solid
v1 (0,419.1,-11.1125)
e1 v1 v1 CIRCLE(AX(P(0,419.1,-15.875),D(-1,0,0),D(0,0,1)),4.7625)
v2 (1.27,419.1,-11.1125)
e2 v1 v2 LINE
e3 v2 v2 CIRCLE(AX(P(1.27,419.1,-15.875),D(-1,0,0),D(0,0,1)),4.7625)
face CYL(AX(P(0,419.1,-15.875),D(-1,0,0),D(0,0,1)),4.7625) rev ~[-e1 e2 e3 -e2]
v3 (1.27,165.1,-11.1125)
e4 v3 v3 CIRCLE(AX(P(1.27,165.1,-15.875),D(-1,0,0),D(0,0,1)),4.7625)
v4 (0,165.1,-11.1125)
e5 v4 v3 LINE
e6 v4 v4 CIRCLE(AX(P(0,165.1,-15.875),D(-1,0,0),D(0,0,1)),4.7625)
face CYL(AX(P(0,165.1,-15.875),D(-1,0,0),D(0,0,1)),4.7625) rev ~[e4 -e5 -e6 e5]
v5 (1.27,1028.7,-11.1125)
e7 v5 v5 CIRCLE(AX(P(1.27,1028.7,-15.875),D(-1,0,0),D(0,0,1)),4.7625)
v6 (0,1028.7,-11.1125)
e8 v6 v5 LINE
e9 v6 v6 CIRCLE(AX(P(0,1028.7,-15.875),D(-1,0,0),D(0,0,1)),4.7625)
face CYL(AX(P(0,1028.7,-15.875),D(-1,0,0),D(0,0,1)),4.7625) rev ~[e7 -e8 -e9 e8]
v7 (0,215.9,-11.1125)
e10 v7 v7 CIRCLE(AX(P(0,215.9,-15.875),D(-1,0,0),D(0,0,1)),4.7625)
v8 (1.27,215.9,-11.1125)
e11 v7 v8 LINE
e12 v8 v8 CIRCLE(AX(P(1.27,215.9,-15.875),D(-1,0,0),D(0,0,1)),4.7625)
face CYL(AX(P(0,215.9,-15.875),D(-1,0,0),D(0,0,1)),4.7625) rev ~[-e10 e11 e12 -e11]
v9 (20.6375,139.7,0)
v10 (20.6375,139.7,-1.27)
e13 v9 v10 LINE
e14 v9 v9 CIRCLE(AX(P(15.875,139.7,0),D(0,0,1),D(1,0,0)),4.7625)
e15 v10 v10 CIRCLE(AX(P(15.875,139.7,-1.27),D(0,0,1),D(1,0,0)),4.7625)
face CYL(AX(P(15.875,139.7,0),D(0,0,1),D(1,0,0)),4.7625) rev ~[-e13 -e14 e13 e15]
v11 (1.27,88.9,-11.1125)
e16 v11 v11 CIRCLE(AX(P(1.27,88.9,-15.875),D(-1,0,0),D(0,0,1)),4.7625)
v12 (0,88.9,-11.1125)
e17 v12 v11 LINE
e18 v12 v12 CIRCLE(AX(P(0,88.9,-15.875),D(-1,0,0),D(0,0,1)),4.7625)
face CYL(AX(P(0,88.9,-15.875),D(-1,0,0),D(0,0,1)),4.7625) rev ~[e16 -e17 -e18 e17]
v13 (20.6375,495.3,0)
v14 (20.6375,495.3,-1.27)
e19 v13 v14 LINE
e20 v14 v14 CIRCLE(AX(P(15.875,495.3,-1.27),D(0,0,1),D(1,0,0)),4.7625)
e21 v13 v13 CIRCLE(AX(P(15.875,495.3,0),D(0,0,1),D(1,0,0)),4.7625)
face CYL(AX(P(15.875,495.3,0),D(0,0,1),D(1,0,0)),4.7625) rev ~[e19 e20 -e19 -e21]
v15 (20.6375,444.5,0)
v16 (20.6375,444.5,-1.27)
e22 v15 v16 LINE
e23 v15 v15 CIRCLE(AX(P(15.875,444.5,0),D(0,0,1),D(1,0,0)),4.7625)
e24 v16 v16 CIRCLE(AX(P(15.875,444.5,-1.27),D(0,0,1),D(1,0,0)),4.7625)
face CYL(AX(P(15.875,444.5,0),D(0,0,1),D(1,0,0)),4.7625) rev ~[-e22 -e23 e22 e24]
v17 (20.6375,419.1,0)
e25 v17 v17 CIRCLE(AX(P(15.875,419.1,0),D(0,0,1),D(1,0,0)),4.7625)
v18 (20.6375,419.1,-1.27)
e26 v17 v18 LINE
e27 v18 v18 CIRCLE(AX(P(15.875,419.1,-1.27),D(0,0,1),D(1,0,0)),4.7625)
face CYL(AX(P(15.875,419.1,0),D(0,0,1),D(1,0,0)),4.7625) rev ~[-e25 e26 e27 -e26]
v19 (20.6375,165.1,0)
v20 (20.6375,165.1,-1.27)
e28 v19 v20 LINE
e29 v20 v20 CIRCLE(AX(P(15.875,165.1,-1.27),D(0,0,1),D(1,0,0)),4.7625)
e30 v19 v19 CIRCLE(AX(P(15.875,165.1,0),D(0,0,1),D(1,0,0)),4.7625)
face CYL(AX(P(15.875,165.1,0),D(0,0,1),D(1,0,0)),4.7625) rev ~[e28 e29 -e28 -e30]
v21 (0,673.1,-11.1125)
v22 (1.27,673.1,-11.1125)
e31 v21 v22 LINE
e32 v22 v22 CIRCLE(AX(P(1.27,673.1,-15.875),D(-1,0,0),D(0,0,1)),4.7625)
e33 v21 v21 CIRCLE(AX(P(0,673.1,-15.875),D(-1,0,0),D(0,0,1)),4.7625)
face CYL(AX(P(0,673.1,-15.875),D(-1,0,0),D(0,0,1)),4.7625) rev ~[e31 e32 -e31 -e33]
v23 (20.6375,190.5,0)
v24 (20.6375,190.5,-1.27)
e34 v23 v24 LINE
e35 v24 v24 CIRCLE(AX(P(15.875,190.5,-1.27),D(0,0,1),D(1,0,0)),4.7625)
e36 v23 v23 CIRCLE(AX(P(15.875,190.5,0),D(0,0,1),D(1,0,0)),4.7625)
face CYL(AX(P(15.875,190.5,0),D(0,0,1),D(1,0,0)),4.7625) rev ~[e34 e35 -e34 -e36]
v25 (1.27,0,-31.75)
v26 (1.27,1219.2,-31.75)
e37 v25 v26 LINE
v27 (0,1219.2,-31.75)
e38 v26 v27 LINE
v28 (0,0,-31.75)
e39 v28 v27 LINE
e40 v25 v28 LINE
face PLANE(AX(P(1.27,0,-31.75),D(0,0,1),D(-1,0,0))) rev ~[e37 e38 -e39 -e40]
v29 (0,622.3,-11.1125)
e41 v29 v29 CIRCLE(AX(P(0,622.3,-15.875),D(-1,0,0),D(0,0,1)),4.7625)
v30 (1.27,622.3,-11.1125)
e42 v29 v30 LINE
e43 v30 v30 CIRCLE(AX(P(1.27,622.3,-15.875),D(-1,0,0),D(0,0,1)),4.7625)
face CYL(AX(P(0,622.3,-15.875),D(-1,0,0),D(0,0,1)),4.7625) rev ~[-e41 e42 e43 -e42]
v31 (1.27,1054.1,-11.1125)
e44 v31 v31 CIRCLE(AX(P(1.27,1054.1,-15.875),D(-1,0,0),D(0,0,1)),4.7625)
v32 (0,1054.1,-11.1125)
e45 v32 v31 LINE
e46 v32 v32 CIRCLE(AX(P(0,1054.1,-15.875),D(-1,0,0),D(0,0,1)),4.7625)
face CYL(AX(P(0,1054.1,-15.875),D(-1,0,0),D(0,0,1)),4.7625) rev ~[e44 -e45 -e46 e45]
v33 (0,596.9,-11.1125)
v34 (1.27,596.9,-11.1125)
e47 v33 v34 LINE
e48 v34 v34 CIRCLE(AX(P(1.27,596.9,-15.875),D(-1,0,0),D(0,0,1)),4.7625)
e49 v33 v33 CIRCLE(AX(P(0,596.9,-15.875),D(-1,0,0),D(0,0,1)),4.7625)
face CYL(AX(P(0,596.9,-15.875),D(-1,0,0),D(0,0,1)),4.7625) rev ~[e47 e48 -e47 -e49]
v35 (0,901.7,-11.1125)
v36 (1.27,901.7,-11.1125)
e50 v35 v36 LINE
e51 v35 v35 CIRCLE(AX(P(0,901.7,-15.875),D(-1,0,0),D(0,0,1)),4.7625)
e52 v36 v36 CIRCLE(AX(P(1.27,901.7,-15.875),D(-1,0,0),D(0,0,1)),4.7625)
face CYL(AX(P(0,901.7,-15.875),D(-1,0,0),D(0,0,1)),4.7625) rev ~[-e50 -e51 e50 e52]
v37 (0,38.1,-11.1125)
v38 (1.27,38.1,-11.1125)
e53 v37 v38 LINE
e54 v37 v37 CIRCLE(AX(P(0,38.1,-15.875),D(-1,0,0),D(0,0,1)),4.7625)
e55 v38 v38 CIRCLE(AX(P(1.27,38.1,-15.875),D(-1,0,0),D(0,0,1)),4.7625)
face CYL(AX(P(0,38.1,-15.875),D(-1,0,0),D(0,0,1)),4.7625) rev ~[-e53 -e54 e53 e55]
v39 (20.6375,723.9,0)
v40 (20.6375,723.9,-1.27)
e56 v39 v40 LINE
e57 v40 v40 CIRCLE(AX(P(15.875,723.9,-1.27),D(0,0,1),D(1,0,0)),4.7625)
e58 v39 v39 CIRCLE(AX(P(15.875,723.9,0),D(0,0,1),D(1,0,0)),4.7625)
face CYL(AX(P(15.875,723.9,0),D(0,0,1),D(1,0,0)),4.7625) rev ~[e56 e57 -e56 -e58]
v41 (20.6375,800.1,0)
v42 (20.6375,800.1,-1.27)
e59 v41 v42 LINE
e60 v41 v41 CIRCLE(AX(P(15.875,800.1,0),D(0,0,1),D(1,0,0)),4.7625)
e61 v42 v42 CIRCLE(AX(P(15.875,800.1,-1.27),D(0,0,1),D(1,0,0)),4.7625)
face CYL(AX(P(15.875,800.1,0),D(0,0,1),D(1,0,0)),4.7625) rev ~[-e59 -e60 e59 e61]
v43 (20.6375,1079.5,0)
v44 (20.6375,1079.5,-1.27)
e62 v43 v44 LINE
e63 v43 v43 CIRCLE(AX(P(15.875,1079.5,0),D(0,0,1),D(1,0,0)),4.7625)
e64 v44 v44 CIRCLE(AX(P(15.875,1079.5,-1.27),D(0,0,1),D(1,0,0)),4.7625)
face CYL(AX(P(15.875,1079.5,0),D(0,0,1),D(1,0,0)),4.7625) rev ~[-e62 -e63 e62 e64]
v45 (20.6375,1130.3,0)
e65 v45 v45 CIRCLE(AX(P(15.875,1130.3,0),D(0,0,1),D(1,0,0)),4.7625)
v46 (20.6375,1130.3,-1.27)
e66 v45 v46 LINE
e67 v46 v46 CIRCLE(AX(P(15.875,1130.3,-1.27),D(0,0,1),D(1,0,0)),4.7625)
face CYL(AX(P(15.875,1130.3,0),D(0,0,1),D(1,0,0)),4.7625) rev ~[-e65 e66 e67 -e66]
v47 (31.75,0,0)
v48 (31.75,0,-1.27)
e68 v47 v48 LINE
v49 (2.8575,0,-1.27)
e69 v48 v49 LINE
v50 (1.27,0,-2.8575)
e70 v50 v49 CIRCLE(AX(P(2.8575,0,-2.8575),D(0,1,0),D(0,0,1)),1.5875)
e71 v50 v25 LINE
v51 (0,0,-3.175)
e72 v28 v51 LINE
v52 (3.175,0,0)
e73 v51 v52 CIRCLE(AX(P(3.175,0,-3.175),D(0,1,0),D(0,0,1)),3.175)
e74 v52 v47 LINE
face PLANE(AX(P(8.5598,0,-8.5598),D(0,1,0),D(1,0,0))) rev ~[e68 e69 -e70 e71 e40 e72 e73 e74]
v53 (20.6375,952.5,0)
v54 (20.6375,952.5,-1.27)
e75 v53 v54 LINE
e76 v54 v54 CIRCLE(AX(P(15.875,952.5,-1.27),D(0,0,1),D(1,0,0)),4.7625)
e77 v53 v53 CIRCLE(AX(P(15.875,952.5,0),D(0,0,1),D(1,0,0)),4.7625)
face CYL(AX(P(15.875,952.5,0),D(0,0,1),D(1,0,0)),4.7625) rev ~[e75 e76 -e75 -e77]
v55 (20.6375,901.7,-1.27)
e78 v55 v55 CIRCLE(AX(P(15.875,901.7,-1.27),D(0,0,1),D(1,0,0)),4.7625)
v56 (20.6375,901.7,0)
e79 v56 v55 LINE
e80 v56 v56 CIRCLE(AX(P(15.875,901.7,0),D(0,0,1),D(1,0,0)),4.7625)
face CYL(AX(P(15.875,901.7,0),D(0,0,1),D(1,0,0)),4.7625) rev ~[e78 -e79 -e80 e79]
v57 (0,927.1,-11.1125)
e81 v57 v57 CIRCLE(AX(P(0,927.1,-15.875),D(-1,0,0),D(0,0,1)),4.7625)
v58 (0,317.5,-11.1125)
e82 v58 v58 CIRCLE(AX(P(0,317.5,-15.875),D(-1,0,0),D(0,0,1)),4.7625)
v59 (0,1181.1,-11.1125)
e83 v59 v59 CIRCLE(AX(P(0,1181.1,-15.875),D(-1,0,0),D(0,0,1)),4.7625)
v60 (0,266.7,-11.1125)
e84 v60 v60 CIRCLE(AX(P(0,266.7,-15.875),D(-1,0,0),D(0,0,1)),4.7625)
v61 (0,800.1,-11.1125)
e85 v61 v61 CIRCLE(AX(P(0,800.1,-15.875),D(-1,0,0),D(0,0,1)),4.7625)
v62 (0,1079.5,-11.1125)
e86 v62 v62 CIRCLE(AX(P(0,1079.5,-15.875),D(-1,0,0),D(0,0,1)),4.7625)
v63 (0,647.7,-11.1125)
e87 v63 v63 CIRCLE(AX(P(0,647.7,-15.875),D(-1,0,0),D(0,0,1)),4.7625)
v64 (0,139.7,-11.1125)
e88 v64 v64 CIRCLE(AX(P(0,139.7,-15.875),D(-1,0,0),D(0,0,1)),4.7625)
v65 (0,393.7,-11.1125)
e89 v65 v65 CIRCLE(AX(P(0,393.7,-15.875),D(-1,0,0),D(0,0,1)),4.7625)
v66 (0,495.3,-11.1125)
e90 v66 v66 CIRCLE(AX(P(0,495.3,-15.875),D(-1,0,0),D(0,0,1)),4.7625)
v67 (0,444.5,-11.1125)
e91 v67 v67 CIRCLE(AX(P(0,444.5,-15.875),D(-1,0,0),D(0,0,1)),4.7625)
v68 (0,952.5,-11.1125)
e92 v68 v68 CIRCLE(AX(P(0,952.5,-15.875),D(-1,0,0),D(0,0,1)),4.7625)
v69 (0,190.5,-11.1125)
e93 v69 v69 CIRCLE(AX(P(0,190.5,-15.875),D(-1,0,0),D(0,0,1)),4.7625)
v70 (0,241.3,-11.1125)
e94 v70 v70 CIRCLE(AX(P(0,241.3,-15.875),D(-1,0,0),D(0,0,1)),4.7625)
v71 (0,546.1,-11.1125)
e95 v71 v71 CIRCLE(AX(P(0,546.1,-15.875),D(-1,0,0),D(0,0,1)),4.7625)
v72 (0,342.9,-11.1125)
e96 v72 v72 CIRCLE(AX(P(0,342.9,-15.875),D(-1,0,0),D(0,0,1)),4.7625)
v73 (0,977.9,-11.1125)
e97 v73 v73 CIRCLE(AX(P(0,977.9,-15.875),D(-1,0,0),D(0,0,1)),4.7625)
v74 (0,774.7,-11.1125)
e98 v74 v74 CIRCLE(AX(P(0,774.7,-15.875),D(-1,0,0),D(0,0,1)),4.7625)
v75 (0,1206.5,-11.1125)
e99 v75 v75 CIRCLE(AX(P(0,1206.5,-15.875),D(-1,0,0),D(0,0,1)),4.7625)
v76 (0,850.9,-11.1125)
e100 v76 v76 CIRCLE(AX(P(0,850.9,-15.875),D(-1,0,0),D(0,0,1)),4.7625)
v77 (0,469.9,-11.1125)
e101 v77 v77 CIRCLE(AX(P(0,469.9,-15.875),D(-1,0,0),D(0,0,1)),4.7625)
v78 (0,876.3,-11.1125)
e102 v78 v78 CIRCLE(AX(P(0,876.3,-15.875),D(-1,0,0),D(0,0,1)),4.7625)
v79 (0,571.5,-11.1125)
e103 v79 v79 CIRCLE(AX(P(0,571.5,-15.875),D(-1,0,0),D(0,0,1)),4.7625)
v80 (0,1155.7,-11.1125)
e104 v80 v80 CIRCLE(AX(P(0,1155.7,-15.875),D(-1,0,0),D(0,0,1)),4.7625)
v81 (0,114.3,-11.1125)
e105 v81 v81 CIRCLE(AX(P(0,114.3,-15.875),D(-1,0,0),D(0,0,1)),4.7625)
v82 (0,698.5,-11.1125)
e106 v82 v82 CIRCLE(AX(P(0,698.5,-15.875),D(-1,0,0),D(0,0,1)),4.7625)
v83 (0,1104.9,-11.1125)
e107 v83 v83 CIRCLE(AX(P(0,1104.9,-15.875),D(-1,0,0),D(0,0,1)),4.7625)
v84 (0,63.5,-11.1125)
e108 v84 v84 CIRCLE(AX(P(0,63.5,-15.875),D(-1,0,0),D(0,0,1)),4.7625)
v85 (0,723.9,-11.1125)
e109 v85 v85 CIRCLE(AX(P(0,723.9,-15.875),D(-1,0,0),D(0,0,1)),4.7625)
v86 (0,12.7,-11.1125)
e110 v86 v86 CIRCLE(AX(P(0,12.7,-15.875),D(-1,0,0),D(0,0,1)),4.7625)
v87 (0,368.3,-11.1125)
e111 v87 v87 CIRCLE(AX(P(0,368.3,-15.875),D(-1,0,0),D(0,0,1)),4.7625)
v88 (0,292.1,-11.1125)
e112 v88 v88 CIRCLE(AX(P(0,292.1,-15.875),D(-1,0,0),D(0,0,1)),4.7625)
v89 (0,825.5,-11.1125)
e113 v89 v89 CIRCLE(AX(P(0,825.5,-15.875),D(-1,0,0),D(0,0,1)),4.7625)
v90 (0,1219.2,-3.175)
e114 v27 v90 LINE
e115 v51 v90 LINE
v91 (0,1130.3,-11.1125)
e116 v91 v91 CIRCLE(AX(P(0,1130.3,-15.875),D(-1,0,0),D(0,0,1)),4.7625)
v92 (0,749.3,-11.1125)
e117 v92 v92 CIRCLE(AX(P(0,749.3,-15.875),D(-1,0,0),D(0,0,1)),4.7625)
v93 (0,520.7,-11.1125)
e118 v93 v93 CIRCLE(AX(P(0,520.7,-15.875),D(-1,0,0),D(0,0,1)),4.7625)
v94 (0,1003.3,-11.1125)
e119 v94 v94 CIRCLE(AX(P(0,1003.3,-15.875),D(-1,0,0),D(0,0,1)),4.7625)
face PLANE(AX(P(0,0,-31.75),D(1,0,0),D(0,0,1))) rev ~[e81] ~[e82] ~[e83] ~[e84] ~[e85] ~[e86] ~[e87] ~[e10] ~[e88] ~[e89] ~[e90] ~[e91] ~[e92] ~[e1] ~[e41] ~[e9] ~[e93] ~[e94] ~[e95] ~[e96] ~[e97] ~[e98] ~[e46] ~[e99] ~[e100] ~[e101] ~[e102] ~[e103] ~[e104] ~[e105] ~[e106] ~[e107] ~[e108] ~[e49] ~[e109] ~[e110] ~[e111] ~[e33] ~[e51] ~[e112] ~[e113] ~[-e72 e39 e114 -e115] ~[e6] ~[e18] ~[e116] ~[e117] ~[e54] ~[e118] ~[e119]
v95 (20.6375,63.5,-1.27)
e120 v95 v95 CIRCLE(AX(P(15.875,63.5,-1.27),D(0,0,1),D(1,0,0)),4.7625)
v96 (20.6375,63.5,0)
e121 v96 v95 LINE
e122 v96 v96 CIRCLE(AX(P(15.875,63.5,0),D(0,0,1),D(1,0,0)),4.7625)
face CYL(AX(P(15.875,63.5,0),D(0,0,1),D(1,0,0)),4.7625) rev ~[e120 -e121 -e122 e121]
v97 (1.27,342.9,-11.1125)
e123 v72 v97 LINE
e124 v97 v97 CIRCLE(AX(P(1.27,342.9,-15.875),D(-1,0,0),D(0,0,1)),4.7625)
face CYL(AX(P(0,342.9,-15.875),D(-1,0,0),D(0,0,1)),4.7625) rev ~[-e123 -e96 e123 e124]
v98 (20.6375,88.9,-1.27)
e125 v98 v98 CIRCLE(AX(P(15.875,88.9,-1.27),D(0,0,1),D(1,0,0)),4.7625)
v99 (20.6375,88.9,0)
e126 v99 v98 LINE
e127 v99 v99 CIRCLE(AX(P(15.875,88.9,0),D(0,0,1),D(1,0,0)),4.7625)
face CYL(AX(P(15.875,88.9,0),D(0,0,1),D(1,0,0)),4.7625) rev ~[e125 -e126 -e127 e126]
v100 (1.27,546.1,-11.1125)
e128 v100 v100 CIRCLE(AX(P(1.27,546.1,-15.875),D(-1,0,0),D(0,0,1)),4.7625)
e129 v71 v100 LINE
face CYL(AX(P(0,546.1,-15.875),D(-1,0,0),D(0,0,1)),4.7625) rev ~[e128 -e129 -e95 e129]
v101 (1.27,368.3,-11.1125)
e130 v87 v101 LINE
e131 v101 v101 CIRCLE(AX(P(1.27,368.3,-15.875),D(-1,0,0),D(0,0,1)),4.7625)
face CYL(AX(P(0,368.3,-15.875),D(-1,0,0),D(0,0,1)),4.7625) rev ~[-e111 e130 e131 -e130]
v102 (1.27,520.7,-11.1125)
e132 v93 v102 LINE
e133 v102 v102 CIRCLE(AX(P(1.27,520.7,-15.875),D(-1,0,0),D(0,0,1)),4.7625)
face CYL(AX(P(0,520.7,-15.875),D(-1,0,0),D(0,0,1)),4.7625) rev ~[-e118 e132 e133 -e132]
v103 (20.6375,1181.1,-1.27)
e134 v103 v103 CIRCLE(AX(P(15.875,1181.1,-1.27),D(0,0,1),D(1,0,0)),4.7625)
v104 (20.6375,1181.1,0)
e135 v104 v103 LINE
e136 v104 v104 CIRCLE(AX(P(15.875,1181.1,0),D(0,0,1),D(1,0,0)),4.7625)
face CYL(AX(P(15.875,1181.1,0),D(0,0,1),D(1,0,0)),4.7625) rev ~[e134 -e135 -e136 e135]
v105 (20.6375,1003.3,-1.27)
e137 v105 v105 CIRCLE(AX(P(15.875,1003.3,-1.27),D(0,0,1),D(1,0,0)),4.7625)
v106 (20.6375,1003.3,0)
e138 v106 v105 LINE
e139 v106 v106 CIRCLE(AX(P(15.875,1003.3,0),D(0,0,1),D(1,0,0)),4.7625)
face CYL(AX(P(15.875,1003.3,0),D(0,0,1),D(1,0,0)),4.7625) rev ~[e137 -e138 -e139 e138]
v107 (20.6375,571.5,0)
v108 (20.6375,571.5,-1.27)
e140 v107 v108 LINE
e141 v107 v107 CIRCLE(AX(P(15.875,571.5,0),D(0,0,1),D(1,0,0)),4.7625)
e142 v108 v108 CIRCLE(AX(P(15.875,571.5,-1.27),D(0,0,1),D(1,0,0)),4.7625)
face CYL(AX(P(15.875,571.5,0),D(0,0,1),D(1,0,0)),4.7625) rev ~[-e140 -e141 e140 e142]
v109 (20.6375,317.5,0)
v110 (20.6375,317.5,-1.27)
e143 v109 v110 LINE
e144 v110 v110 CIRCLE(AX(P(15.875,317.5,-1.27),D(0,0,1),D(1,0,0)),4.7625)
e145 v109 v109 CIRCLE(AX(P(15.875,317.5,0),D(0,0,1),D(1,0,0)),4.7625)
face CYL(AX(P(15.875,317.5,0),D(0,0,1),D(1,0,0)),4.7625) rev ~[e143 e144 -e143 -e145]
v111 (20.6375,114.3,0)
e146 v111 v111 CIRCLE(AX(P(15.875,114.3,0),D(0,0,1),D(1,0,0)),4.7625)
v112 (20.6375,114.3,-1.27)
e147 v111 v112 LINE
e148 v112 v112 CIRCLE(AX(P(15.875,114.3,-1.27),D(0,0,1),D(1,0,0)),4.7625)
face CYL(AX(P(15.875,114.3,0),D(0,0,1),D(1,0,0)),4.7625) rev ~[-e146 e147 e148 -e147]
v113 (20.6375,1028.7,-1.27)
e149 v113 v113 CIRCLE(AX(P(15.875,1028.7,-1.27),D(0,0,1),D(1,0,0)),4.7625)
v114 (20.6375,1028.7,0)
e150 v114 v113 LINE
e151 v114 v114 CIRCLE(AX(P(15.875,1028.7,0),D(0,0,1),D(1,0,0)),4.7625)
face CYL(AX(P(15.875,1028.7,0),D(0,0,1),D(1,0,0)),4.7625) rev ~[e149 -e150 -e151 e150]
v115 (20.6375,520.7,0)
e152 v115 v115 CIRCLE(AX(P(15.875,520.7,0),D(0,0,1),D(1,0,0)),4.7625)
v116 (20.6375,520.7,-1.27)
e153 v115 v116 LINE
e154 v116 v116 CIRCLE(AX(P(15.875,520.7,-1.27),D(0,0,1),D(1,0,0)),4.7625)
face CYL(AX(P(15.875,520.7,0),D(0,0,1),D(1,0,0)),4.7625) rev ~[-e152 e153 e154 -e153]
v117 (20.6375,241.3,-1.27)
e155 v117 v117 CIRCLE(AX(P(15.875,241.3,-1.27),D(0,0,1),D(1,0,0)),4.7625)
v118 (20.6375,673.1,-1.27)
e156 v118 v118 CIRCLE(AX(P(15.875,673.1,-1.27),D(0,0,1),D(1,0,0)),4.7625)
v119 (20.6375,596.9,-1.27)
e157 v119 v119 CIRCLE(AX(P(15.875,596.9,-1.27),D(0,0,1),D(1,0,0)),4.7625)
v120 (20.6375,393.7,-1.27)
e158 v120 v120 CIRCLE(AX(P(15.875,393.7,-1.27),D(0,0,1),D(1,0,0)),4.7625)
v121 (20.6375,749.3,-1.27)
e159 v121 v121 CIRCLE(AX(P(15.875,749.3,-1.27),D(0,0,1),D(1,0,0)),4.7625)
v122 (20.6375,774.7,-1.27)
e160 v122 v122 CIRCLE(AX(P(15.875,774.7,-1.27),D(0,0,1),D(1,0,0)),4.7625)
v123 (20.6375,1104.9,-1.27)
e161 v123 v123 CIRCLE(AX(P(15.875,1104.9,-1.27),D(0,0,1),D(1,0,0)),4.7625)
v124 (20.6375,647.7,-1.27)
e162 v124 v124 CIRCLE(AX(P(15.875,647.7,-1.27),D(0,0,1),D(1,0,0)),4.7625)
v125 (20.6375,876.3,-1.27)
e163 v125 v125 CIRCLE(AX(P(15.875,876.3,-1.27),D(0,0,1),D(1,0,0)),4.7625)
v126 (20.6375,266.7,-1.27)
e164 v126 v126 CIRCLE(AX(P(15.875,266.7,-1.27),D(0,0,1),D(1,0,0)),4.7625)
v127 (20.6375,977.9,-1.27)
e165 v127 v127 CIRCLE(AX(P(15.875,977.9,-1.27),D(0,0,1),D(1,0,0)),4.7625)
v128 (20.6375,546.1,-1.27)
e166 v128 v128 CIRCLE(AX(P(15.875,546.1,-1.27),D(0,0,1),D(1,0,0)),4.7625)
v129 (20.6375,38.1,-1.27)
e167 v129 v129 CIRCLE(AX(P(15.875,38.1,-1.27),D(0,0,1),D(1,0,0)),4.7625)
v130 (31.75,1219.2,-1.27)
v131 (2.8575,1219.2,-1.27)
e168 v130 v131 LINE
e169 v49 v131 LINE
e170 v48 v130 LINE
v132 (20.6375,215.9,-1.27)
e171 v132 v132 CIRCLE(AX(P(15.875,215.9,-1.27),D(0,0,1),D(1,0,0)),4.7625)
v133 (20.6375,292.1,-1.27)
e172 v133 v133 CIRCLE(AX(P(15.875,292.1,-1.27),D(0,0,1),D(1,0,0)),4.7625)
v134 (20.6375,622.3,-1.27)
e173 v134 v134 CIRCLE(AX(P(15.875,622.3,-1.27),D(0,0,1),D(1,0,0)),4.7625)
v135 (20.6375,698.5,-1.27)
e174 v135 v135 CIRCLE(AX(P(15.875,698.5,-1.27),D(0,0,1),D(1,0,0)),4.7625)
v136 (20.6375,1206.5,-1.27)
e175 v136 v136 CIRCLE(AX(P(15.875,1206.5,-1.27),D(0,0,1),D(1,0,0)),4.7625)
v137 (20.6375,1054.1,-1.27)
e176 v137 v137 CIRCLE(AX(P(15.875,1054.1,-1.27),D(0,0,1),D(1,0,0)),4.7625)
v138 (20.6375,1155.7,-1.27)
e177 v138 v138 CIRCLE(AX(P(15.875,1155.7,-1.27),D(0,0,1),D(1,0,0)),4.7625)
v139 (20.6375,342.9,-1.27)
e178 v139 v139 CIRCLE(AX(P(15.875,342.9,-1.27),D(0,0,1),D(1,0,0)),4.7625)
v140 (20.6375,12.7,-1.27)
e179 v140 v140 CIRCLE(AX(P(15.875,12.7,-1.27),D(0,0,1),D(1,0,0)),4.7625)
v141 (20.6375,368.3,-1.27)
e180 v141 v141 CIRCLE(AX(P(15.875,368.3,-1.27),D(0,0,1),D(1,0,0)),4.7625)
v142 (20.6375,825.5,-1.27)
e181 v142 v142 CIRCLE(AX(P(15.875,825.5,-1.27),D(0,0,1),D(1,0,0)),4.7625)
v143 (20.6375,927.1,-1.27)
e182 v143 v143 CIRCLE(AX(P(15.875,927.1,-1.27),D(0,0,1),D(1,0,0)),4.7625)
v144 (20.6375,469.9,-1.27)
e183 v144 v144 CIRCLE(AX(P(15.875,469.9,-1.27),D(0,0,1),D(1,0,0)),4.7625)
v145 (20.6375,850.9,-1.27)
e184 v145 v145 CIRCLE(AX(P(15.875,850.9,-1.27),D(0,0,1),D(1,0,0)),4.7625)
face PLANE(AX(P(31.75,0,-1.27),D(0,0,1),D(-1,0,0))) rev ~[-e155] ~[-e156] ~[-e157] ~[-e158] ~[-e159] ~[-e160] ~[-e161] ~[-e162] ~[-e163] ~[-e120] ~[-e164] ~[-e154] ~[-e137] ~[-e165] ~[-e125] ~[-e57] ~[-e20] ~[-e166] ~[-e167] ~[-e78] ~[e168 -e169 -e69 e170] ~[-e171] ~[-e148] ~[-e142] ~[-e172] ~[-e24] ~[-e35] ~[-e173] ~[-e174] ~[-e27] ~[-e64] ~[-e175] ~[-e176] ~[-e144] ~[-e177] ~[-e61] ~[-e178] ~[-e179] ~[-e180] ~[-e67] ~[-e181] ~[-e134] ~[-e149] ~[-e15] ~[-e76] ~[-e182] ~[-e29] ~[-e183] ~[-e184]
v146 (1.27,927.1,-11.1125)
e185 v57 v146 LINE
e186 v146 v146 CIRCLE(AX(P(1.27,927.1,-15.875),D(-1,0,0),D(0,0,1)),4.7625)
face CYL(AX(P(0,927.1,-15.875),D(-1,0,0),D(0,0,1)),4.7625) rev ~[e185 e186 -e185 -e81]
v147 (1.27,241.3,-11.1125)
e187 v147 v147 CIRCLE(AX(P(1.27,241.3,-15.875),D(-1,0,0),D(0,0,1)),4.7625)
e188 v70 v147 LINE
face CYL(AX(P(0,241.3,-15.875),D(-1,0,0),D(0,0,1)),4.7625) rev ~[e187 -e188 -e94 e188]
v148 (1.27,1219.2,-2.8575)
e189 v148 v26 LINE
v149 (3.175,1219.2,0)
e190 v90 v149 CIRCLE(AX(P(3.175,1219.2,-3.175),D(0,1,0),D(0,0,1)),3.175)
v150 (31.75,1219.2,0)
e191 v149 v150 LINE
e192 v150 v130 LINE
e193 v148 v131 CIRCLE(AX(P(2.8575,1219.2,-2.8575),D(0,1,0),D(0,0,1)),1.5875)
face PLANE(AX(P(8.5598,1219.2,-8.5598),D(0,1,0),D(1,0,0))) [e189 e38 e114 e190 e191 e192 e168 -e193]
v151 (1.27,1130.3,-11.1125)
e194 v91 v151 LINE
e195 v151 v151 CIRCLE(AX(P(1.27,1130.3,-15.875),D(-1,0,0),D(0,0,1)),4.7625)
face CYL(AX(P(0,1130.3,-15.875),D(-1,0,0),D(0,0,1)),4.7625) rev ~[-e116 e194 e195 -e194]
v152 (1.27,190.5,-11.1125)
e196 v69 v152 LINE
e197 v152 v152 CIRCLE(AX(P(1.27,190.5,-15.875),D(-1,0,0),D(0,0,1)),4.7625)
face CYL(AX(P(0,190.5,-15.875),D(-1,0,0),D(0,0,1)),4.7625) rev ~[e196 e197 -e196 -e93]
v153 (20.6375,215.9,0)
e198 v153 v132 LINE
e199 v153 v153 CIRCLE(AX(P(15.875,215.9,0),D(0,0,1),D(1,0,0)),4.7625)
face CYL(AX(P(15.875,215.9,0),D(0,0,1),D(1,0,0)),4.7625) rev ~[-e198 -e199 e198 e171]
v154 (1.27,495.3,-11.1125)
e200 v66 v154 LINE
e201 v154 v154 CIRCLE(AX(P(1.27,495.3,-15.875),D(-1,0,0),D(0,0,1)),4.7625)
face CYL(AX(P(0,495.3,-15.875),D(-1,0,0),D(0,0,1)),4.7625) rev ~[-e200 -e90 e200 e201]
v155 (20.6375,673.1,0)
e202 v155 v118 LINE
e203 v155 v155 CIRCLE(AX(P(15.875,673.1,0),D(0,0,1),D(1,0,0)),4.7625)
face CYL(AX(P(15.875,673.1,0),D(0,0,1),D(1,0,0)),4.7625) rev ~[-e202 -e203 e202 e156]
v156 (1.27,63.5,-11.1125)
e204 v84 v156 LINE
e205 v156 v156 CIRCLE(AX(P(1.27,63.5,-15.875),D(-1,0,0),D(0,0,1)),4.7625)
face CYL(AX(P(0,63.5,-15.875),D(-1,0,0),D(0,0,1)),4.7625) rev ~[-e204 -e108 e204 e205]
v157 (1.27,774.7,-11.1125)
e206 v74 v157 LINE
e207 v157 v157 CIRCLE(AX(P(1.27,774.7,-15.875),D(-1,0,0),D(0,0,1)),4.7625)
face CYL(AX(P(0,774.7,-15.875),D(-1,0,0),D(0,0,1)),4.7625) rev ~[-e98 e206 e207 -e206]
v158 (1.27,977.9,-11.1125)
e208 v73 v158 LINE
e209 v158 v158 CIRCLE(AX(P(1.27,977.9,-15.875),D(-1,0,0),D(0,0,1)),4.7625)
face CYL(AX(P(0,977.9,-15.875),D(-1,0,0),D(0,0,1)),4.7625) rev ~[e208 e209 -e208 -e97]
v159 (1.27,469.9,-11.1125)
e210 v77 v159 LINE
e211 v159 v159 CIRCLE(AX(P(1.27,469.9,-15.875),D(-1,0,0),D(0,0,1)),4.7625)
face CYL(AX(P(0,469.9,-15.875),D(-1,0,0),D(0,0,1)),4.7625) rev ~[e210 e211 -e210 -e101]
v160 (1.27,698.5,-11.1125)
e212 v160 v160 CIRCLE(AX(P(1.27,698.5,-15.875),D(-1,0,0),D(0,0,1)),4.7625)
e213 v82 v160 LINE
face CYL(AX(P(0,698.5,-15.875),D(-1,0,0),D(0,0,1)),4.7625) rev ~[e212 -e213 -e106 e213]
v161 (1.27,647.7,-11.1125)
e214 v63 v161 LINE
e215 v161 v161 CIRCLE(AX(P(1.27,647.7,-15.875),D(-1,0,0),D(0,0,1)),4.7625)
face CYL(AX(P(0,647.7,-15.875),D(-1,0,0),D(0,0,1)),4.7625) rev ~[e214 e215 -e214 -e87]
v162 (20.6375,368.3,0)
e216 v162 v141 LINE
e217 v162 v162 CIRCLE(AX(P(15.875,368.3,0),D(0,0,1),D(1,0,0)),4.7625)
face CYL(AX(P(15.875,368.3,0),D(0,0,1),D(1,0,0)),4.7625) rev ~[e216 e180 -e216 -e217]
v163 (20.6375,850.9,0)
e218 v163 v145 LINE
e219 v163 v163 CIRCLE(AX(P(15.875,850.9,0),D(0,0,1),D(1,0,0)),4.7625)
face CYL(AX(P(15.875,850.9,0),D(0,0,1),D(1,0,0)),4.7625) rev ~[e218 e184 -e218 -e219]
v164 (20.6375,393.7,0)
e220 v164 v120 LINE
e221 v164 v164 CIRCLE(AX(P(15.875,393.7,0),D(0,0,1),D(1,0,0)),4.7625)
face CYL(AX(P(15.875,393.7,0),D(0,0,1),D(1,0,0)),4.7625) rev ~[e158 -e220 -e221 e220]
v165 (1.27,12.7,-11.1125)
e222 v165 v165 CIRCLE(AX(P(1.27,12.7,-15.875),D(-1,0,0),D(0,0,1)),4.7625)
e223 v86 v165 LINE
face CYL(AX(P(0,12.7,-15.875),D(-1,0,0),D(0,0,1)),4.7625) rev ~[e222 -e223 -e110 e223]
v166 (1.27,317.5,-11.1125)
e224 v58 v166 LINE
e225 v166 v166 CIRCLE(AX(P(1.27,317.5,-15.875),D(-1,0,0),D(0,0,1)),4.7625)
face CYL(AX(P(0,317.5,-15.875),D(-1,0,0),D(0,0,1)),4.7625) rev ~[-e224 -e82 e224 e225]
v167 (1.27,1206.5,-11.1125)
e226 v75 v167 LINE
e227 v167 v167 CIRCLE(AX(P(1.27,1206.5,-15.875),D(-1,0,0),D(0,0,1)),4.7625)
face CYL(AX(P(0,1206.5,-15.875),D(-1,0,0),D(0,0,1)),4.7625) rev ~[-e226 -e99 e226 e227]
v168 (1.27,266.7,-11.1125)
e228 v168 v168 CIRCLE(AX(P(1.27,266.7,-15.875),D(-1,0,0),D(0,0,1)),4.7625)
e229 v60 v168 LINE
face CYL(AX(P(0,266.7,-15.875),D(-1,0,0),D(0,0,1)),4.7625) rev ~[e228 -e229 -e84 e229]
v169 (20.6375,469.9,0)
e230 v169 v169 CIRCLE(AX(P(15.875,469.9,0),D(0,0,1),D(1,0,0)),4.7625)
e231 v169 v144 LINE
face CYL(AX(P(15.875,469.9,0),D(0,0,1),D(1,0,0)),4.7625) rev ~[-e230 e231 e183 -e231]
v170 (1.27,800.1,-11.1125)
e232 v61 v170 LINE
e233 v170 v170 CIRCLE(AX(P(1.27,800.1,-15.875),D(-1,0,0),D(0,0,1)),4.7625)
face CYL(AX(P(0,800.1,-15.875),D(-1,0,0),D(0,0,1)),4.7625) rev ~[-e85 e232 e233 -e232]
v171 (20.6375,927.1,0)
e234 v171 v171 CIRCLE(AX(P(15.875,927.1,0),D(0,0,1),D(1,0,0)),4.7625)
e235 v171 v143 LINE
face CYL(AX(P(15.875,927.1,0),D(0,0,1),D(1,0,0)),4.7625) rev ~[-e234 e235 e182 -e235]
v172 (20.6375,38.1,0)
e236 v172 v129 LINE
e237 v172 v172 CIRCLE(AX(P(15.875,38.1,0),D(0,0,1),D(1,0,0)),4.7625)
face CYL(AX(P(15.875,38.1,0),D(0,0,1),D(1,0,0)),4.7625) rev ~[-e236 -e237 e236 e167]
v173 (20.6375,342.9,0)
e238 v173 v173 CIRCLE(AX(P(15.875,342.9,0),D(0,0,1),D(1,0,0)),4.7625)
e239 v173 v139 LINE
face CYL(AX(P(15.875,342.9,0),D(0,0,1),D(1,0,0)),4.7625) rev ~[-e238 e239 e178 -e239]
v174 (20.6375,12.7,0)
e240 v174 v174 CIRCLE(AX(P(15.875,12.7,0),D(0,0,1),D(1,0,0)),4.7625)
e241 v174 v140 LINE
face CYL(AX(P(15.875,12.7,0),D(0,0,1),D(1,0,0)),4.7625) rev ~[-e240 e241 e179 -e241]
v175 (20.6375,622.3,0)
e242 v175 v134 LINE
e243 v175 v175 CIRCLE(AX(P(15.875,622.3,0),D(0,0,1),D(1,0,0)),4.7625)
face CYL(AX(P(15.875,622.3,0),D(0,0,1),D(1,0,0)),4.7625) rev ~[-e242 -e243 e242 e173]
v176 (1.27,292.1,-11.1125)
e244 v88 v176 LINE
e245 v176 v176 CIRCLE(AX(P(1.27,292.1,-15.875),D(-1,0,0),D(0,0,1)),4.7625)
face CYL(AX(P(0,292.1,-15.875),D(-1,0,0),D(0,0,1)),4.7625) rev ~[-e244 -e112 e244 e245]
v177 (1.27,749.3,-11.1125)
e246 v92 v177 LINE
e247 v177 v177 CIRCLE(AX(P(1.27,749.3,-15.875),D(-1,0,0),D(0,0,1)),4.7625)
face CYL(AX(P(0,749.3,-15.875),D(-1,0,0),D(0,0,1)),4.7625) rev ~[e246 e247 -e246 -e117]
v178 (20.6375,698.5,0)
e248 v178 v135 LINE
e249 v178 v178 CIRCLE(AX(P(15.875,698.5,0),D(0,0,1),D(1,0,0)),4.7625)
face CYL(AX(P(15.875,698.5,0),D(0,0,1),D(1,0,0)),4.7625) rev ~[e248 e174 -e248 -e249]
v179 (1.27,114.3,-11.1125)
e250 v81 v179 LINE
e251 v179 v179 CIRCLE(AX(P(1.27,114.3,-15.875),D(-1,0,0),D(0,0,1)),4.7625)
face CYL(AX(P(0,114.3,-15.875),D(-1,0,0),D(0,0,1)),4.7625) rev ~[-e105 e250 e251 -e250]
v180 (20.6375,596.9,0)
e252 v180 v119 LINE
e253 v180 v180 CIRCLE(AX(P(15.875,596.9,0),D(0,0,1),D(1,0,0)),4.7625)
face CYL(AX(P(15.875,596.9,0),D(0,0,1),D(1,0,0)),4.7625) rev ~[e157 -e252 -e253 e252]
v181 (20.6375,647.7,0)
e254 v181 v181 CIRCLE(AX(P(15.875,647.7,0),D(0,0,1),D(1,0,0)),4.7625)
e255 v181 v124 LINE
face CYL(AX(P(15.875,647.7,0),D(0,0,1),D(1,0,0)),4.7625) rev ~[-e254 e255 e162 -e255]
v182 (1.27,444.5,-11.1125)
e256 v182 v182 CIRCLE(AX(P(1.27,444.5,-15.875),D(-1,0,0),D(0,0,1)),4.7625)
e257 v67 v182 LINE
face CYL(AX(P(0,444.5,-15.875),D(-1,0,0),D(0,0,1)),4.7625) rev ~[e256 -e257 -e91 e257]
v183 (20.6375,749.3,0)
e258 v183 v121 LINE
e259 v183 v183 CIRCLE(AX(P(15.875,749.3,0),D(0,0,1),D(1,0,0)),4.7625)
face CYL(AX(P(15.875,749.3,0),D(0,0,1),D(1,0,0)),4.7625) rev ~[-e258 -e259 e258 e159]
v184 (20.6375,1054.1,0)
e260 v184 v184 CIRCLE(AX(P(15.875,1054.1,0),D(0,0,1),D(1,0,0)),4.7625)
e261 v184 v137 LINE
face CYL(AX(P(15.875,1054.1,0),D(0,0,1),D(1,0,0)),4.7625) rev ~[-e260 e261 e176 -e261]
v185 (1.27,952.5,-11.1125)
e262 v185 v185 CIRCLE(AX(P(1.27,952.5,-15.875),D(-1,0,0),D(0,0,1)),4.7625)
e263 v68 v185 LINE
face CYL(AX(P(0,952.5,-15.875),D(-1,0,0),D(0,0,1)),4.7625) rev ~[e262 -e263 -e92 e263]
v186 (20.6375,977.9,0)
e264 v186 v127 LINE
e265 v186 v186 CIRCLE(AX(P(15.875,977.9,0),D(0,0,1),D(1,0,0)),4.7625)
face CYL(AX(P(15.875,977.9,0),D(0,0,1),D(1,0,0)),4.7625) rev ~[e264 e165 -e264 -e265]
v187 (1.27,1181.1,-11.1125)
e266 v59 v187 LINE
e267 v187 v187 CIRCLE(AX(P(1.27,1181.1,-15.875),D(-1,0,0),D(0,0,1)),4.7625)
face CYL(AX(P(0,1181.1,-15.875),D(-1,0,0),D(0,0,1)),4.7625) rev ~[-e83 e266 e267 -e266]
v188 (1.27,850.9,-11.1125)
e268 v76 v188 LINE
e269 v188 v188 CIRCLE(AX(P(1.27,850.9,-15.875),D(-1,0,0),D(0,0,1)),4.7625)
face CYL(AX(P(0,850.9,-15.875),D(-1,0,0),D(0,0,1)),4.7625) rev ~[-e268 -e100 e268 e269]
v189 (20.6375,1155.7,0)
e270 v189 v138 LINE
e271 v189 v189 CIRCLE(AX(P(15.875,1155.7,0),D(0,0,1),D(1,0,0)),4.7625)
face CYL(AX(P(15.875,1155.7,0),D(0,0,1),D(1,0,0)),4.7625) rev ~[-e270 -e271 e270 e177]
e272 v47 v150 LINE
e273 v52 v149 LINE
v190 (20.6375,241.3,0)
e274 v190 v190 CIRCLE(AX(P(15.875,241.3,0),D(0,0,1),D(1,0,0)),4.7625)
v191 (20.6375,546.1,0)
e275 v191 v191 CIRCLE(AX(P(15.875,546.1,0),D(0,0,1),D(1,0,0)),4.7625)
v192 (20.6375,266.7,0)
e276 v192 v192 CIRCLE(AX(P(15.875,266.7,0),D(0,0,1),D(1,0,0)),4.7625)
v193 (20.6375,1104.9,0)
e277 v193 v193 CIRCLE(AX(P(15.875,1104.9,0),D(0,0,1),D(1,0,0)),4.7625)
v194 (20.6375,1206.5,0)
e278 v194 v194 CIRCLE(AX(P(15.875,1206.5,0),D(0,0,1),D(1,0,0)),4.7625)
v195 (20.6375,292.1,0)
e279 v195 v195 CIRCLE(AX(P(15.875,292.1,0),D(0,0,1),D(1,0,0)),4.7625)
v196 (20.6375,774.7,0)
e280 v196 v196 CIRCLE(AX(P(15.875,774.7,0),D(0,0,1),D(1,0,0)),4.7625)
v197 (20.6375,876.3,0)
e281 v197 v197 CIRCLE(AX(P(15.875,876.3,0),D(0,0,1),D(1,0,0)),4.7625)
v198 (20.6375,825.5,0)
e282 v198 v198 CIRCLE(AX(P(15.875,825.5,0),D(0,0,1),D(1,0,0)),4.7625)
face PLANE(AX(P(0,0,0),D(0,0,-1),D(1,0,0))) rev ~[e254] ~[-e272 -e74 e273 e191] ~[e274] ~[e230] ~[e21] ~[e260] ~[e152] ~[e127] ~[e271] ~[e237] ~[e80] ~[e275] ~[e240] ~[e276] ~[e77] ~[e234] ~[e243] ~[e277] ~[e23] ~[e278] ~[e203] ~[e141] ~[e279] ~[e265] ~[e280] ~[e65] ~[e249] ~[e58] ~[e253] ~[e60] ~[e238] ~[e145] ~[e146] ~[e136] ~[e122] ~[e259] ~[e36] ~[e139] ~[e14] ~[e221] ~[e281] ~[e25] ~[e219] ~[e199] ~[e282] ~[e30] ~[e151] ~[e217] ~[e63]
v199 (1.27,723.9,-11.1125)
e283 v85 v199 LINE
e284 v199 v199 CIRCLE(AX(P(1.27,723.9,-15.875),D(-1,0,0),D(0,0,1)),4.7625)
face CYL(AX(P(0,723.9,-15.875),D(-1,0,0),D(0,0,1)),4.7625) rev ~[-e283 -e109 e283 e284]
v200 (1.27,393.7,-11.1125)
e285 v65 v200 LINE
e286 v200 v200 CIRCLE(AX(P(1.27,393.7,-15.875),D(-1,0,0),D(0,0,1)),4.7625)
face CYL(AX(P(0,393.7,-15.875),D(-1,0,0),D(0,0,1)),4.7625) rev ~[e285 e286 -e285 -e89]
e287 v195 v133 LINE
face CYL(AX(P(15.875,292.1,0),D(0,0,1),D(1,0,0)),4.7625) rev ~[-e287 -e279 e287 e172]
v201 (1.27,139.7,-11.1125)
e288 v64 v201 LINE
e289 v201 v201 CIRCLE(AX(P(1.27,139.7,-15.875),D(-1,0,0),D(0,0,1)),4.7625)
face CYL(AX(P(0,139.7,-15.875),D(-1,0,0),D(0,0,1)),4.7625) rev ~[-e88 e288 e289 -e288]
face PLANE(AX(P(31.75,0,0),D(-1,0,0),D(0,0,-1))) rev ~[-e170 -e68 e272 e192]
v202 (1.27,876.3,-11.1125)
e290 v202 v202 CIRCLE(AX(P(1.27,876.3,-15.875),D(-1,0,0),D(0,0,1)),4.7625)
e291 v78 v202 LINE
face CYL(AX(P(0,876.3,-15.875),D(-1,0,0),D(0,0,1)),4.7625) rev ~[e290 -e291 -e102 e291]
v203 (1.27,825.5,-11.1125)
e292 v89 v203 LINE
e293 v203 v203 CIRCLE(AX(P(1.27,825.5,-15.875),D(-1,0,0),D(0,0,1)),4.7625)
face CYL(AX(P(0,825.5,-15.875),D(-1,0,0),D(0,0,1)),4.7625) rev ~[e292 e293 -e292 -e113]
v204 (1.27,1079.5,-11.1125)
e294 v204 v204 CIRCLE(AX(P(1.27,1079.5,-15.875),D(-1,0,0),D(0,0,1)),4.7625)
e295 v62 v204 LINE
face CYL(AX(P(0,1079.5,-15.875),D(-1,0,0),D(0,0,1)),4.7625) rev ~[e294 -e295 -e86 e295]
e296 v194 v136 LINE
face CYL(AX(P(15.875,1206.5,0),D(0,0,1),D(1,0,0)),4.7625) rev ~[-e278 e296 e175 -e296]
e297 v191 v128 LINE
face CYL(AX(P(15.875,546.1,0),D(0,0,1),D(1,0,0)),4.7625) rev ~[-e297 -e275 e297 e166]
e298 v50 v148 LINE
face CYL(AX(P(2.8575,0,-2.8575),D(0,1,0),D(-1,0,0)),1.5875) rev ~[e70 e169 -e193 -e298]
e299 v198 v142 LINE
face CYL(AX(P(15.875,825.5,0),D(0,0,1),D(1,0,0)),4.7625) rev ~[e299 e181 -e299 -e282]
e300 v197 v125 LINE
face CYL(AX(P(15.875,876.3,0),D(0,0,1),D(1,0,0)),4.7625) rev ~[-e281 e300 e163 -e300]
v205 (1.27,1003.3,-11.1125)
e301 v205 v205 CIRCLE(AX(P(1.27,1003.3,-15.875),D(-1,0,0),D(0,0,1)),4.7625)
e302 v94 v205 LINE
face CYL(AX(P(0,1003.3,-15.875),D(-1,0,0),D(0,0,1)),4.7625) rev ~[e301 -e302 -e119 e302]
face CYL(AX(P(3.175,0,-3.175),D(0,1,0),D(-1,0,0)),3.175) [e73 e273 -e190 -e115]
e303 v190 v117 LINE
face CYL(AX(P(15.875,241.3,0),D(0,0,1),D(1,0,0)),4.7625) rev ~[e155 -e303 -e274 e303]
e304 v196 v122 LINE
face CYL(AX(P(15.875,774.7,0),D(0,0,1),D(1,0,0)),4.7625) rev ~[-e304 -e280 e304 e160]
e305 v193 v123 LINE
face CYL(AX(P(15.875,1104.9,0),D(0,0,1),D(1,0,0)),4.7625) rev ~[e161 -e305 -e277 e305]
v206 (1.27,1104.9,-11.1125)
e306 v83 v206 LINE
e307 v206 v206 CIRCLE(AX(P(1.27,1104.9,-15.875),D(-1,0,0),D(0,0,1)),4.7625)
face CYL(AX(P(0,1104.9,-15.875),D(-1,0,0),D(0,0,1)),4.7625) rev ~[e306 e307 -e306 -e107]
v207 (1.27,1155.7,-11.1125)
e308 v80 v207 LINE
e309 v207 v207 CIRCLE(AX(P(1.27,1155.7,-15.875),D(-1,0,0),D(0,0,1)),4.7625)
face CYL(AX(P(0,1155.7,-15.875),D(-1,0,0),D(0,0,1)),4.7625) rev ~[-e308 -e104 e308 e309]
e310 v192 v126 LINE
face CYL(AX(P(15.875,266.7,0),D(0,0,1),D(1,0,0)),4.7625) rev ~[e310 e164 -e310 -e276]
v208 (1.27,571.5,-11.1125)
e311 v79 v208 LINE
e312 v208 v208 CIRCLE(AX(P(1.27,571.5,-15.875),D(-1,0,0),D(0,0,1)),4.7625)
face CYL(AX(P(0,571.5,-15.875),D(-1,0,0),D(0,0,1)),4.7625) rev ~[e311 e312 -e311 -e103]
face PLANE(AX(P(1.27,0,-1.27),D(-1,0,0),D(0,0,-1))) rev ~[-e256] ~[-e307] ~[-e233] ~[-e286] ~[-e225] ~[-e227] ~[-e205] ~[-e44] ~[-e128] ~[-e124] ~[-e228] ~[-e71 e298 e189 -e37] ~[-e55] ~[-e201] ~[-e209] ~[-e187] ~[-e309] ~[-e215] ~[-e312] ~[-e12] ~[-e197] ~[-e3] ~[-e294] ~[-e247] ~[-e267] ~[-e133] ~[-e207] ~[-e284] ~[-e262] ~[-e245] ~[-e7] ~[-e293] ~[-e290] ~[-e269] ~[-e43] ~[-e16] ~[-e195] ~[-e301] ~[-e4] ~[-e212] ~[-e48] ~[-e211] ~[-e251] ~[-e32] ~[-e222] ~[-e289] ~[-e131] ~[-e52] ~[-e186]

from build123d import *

# Parameters (mm, degrees)
BOSS_EXTRUDE1_DEPTH = 1219.2
SKETCH3_R           = 4.7625
CUT_EXTRUDE1_DEPTH  = 1.27
SKETCH4_R           = 4.7625
CUT_EXTRUDE2_DEPTH  = 1.27
FILLET1_R           = 3.175
FILLET2_R           = 1.5875


with BuildPart() as part:
    # Sketch1 → Boss-Extrude1 (new body)
    with BuildSketch(Plane(origin=(0, 0, 0), x_dir=(1, 0, 0), z_dir=(0, 1, 0))):
        Polygon((1.27, 1.27), (1.27, 30.48), (1.27, 31.75), (0, 31.75), (0, 0), (31.75, 0), (31.75, 1.27), (30.48, 1.27), align=None)
    extrude(amount=BOSS_EXTRUDE1_DEPTH)

    # Sketch3 → Cut-Extrude1 (cut)
    with BuildSketch(Plane.ZY):
        with Locations((-15.875, 12.7)):
            Circle(SKETCH3_R)
        with Locations((-15.875, 38.1)):
            Circle(SKETCH3_R)
        with Locations((-15.875, 63.5)):
            Circle(SKETCH3_R)
        with Locations((-15.875, 88.9)):
            Circle(SKETCH3_R)
        with Locations((-15.875, 114.3)):
            Circle(SKETCH3_R)
        with Locations((-15.875, 139.7)):
            Circle(SKETCH3_R)
        with Locations((-15.875, 165.1)):
            Circle(SKETCH3_R)
        with Locations((-15.875, 190.5)):
            Circle(SKETCH3_R)
        with Locations((-15.875, 215.9)):
            Circle(SKETCH3_R)
        with Locations((-15.875, 241.3)):
            Circle(SKETCH3_R)
        with Locations((-15.875, 266.7)):
            Circle(SKETCH3_R)
        with Locations((-15.875, 292.1)):
            Circle(SKETCH3_R)
        with Locations((-15.875, 317.5)):
            Circle(SKETCH3_R)
        with Locations((-15.875, 342.9)):
            Circle(SKETCH3_R)
        with Locations((-15.875, 368.3)):
            Circle(SKETCH3_R)
        with Locations((-15.875, 393.7)):
            Circle(SKETCH3_R)
        with Locations((-15.875, 419.1)):
            Circle(SKETCH3_R)
        with Locations((-15.875, 444.5)):
            Circle(SKETCH3_R)
        with Locations((-15.875, 469.9)):
            Circle(SKETCH3_R)
        with Locations((-15.875, 495.3)):
            Circle(SKETCH3_R)
        with Locations((-15.875, 520.7)):
            Circle(SKETCH3_R)
        with Locations((-15.875, 546.1)):
            Circle(SKETCH3_R)
        with Locations((-15.875, 571.5)):
            Circle(SKETCH3_R)
        with Locations((-15.875, 596.9)):
            Circle(SKETCH3_R)
        with Locations((-15.875, 622.3)):
            Circle(SKETCH3_R)
        with Locations((-15.875, 647.7)):
            Circle(SKETCH3_R)
        with Locations((-15.875, 673.1)):
            Circle(SKETCH3_R)
        with Locations((-15.875, 698.5)):
            Circle(SKETCH3_R)
        with Locations((-15.875, 723.9)):
            Circle(SKETCH3_R)
        with Locations((-15.875, 749.3)):
            Circle(SKETCH3_R)
        with Locations((-15.875, 774.7)):
            Circle(SKETCH3_R)
        with Locations((-15.875, 800.1)):
            Circle(SKETCH3_R)
        with Locations((-15.875, 825.5)):
            Circle(SKETCH3_R)
        with Locations((-15.875, 850.9)):
            Circle(SKETCH3_R)
        with Locations((-15.875, 876.3)):
            Circle(SKETCH3_R)
        with Locations((-15.875, 901.7)):
            Circle(SKETCH3_R)
        with Locations((-15.875, 927.1)):
            Circle(SKETCH3_R)
        with Locations((-15.875, 952.5)):
            Circle(SKETCH3_R)
        with Locations((-15.875, 977.9)):
            Circle(SKETCH3_R)
        with Locations((-15.875, 1003.3)):
            Circle(SKETCH3_R)
        with Locations((-15.875, 1028.7)):
            Circle(SKETCH3_R)
        with Locations((-15.875, 1054.1)):
            Circle(SKETCH3_R)
        with Locations((-15.875, 1079.5)):
            Circle(SKETCH3_R)
        with Locations((-15.875, 1104.9)):
            Circle(SKETCH3_R)
        with Locations((-15.875, 1130.3)):
            Circle(SKETCH3_R)
        with Locations((-15.875, 1155.7)):
            Circle(SKETCH3_R)
        with Locations((-15.875, 1181.1)):
            Circle(SKETCH3_R)
        with Locations((-15.875, 1206.5)):
            Circle(SKETCH3_R)
    extrude(amount=-CUT_EXTRUDE1_DEPTH, mode=Mode.SUBTRACT)

    # Sketch4 → Cut-Extrude2 (cut)
    with BuildSketch(Plane.XY):
        with Locations((15.875, 1206.5)):
            Circle(SKETCH4_R)
        with Locations((15.875, 1181.1)):
            Circle(SKETCH4_R)
        with Locations((15.875, 1155.7)):
            Circle(SKETCH4_R)
        with Locations((15.875, 1130.3)):
            Circle(SKETCH4_R)
        with Locations((15.875, 1104.9)):
            Circle(SKETCH4_R)
        with Locations((15.875, 1079.5)):
            Circle(SKETCH4_R)
        with Locations((15.875, 1054.1)):
            Circle(SKETCH4_R)
        with Locations((15.875, 1028.7)):
            Circle(SKETCH4_R)
        with Locations((15.875, 1003.3)):
            Circle(SKETCH4_R)
        with Locations((15.875, 977.9)):
            Circle(SKETCH4_R)
        with Locations((15.875, 952.5)):
            Circle(SKETCH4_R)
        with Locations((15.875, 927.1)):
            Circle(SKETCH4_R)
        with Locations((15.875, 901.7)):
            Circle(SKETCH4_R)
        with Locations((15.875, 876.3)):
            Circle(SKETCH4_R)
        with Locations((15.875, 850.9)):
            Circle(SKETCH4_R)
        with Locations((15.875, 825.5)):
            Circle(SKETCH4_R)
        with Locations((15.875, 800.1)):
            Circle(SKETCH4_R)
        with Locations((15.875, 774.7)):
            Circle(SKETCH4_R)
        with Locations((15.875, 749.3)):
            Circle(SKETCH4_R)
        with Locations((15.875, 723.9)):
            Circle(SKETCH4_R)
        with Locations((15.875, 698.5)):
            Circle(SKETCH4_R)
        with Locations((15.875, 673.1)):
            Circle(SKETCH4_R)
        with Locations((15.875, 647.7)):
            Circle(SKETCH4_R)
        with Locations((15.875, 622.3)):
            Circle(SKETCH4_R)
        with Locations((15.875, 596.9)):
            Circle(SKETCH4_R)
        with Locations((15.875, 571.5)):
            Circle(SKETCH4_R)
        with Locations((15.875, 546.1)):
            Circle(SKETCH4_R)
        with Locations((15.875, 520.7)):
            Circle(SKETCH4_R)
        with Locations((15.875, 495.3)):
            Circle(SKETCH4_R)
        with Locations((15.875, 469.9)):
            Circle(SKETCH4_R)
        with Locations((15.875, 444.5)):
            Circle(SKETCH4_R)
        with Locations((15.875, 419.1)):
            Circle(SKETCH4_R)
        with Locations((15.875, 393.7)):
            Circle(SKETCH4_R)
        with Locations((15.875, 368.3)):
            Circle(SKETCH4_R)
        with Locations((15.875, 342.9)):
            Circle(SKETCH4_R)
        with Locations((15.875, 317.5)):
            Circle(SKETCH4_R)
        with Locations((15.875, 292.1)):
            Circle(SKETCH4_R)
        with Locations((15.875, 266.7)):
            Circle(SKETCH4_R)
        with Locations((15.875, 241.3)):
            Circle(SKETCH4_R)
        with Locations((15.875, 215.9)):
            Circle(SKETCH4_R)
        with Locations((15.875, 190.5)):
            Circle(SKETCH4_R)
        with Locations((15.875, 165.1)):
            Circle(SKETCH4_R)
        with Locations((15.875, 139.7)):
            Circle(SKETCH4_R)
        with Locations((15.875, 114.3)):
            Circle(SKETCH4_R)
        with Locations((15.875, 88.9)):
            Circle(SKETCH4_R)
        with Locations((15.875, 63.5)):
            Circle(SKETCH4_R)
        with Locations((15.875, 38.1)):
            Circle(SKETCH4_R)
        with Locations((15.875, 12.7)):
            Circle(SKETCH4_R)
    extrude(amount=-CUT_EXTRUDE2_DEPTH, mode=Mode.SUBTRACT)

    # Fillet1
    fillet1_edges = [part.edges().sort_by_distance(p)[0] for p in [
        (0, 609.6, 0),
    ]]
    fillet(fillet1_edges, radius=FILLET1_R)

    # Fillet2
    fillet2_edges = [part.edges().sort_by_distance(p)[0] for p in [
        (1.27, 609.6, -1.27),
    ]]
    fillet(fillet2_edges, radius=FILLET2_R)


solid = part.part
